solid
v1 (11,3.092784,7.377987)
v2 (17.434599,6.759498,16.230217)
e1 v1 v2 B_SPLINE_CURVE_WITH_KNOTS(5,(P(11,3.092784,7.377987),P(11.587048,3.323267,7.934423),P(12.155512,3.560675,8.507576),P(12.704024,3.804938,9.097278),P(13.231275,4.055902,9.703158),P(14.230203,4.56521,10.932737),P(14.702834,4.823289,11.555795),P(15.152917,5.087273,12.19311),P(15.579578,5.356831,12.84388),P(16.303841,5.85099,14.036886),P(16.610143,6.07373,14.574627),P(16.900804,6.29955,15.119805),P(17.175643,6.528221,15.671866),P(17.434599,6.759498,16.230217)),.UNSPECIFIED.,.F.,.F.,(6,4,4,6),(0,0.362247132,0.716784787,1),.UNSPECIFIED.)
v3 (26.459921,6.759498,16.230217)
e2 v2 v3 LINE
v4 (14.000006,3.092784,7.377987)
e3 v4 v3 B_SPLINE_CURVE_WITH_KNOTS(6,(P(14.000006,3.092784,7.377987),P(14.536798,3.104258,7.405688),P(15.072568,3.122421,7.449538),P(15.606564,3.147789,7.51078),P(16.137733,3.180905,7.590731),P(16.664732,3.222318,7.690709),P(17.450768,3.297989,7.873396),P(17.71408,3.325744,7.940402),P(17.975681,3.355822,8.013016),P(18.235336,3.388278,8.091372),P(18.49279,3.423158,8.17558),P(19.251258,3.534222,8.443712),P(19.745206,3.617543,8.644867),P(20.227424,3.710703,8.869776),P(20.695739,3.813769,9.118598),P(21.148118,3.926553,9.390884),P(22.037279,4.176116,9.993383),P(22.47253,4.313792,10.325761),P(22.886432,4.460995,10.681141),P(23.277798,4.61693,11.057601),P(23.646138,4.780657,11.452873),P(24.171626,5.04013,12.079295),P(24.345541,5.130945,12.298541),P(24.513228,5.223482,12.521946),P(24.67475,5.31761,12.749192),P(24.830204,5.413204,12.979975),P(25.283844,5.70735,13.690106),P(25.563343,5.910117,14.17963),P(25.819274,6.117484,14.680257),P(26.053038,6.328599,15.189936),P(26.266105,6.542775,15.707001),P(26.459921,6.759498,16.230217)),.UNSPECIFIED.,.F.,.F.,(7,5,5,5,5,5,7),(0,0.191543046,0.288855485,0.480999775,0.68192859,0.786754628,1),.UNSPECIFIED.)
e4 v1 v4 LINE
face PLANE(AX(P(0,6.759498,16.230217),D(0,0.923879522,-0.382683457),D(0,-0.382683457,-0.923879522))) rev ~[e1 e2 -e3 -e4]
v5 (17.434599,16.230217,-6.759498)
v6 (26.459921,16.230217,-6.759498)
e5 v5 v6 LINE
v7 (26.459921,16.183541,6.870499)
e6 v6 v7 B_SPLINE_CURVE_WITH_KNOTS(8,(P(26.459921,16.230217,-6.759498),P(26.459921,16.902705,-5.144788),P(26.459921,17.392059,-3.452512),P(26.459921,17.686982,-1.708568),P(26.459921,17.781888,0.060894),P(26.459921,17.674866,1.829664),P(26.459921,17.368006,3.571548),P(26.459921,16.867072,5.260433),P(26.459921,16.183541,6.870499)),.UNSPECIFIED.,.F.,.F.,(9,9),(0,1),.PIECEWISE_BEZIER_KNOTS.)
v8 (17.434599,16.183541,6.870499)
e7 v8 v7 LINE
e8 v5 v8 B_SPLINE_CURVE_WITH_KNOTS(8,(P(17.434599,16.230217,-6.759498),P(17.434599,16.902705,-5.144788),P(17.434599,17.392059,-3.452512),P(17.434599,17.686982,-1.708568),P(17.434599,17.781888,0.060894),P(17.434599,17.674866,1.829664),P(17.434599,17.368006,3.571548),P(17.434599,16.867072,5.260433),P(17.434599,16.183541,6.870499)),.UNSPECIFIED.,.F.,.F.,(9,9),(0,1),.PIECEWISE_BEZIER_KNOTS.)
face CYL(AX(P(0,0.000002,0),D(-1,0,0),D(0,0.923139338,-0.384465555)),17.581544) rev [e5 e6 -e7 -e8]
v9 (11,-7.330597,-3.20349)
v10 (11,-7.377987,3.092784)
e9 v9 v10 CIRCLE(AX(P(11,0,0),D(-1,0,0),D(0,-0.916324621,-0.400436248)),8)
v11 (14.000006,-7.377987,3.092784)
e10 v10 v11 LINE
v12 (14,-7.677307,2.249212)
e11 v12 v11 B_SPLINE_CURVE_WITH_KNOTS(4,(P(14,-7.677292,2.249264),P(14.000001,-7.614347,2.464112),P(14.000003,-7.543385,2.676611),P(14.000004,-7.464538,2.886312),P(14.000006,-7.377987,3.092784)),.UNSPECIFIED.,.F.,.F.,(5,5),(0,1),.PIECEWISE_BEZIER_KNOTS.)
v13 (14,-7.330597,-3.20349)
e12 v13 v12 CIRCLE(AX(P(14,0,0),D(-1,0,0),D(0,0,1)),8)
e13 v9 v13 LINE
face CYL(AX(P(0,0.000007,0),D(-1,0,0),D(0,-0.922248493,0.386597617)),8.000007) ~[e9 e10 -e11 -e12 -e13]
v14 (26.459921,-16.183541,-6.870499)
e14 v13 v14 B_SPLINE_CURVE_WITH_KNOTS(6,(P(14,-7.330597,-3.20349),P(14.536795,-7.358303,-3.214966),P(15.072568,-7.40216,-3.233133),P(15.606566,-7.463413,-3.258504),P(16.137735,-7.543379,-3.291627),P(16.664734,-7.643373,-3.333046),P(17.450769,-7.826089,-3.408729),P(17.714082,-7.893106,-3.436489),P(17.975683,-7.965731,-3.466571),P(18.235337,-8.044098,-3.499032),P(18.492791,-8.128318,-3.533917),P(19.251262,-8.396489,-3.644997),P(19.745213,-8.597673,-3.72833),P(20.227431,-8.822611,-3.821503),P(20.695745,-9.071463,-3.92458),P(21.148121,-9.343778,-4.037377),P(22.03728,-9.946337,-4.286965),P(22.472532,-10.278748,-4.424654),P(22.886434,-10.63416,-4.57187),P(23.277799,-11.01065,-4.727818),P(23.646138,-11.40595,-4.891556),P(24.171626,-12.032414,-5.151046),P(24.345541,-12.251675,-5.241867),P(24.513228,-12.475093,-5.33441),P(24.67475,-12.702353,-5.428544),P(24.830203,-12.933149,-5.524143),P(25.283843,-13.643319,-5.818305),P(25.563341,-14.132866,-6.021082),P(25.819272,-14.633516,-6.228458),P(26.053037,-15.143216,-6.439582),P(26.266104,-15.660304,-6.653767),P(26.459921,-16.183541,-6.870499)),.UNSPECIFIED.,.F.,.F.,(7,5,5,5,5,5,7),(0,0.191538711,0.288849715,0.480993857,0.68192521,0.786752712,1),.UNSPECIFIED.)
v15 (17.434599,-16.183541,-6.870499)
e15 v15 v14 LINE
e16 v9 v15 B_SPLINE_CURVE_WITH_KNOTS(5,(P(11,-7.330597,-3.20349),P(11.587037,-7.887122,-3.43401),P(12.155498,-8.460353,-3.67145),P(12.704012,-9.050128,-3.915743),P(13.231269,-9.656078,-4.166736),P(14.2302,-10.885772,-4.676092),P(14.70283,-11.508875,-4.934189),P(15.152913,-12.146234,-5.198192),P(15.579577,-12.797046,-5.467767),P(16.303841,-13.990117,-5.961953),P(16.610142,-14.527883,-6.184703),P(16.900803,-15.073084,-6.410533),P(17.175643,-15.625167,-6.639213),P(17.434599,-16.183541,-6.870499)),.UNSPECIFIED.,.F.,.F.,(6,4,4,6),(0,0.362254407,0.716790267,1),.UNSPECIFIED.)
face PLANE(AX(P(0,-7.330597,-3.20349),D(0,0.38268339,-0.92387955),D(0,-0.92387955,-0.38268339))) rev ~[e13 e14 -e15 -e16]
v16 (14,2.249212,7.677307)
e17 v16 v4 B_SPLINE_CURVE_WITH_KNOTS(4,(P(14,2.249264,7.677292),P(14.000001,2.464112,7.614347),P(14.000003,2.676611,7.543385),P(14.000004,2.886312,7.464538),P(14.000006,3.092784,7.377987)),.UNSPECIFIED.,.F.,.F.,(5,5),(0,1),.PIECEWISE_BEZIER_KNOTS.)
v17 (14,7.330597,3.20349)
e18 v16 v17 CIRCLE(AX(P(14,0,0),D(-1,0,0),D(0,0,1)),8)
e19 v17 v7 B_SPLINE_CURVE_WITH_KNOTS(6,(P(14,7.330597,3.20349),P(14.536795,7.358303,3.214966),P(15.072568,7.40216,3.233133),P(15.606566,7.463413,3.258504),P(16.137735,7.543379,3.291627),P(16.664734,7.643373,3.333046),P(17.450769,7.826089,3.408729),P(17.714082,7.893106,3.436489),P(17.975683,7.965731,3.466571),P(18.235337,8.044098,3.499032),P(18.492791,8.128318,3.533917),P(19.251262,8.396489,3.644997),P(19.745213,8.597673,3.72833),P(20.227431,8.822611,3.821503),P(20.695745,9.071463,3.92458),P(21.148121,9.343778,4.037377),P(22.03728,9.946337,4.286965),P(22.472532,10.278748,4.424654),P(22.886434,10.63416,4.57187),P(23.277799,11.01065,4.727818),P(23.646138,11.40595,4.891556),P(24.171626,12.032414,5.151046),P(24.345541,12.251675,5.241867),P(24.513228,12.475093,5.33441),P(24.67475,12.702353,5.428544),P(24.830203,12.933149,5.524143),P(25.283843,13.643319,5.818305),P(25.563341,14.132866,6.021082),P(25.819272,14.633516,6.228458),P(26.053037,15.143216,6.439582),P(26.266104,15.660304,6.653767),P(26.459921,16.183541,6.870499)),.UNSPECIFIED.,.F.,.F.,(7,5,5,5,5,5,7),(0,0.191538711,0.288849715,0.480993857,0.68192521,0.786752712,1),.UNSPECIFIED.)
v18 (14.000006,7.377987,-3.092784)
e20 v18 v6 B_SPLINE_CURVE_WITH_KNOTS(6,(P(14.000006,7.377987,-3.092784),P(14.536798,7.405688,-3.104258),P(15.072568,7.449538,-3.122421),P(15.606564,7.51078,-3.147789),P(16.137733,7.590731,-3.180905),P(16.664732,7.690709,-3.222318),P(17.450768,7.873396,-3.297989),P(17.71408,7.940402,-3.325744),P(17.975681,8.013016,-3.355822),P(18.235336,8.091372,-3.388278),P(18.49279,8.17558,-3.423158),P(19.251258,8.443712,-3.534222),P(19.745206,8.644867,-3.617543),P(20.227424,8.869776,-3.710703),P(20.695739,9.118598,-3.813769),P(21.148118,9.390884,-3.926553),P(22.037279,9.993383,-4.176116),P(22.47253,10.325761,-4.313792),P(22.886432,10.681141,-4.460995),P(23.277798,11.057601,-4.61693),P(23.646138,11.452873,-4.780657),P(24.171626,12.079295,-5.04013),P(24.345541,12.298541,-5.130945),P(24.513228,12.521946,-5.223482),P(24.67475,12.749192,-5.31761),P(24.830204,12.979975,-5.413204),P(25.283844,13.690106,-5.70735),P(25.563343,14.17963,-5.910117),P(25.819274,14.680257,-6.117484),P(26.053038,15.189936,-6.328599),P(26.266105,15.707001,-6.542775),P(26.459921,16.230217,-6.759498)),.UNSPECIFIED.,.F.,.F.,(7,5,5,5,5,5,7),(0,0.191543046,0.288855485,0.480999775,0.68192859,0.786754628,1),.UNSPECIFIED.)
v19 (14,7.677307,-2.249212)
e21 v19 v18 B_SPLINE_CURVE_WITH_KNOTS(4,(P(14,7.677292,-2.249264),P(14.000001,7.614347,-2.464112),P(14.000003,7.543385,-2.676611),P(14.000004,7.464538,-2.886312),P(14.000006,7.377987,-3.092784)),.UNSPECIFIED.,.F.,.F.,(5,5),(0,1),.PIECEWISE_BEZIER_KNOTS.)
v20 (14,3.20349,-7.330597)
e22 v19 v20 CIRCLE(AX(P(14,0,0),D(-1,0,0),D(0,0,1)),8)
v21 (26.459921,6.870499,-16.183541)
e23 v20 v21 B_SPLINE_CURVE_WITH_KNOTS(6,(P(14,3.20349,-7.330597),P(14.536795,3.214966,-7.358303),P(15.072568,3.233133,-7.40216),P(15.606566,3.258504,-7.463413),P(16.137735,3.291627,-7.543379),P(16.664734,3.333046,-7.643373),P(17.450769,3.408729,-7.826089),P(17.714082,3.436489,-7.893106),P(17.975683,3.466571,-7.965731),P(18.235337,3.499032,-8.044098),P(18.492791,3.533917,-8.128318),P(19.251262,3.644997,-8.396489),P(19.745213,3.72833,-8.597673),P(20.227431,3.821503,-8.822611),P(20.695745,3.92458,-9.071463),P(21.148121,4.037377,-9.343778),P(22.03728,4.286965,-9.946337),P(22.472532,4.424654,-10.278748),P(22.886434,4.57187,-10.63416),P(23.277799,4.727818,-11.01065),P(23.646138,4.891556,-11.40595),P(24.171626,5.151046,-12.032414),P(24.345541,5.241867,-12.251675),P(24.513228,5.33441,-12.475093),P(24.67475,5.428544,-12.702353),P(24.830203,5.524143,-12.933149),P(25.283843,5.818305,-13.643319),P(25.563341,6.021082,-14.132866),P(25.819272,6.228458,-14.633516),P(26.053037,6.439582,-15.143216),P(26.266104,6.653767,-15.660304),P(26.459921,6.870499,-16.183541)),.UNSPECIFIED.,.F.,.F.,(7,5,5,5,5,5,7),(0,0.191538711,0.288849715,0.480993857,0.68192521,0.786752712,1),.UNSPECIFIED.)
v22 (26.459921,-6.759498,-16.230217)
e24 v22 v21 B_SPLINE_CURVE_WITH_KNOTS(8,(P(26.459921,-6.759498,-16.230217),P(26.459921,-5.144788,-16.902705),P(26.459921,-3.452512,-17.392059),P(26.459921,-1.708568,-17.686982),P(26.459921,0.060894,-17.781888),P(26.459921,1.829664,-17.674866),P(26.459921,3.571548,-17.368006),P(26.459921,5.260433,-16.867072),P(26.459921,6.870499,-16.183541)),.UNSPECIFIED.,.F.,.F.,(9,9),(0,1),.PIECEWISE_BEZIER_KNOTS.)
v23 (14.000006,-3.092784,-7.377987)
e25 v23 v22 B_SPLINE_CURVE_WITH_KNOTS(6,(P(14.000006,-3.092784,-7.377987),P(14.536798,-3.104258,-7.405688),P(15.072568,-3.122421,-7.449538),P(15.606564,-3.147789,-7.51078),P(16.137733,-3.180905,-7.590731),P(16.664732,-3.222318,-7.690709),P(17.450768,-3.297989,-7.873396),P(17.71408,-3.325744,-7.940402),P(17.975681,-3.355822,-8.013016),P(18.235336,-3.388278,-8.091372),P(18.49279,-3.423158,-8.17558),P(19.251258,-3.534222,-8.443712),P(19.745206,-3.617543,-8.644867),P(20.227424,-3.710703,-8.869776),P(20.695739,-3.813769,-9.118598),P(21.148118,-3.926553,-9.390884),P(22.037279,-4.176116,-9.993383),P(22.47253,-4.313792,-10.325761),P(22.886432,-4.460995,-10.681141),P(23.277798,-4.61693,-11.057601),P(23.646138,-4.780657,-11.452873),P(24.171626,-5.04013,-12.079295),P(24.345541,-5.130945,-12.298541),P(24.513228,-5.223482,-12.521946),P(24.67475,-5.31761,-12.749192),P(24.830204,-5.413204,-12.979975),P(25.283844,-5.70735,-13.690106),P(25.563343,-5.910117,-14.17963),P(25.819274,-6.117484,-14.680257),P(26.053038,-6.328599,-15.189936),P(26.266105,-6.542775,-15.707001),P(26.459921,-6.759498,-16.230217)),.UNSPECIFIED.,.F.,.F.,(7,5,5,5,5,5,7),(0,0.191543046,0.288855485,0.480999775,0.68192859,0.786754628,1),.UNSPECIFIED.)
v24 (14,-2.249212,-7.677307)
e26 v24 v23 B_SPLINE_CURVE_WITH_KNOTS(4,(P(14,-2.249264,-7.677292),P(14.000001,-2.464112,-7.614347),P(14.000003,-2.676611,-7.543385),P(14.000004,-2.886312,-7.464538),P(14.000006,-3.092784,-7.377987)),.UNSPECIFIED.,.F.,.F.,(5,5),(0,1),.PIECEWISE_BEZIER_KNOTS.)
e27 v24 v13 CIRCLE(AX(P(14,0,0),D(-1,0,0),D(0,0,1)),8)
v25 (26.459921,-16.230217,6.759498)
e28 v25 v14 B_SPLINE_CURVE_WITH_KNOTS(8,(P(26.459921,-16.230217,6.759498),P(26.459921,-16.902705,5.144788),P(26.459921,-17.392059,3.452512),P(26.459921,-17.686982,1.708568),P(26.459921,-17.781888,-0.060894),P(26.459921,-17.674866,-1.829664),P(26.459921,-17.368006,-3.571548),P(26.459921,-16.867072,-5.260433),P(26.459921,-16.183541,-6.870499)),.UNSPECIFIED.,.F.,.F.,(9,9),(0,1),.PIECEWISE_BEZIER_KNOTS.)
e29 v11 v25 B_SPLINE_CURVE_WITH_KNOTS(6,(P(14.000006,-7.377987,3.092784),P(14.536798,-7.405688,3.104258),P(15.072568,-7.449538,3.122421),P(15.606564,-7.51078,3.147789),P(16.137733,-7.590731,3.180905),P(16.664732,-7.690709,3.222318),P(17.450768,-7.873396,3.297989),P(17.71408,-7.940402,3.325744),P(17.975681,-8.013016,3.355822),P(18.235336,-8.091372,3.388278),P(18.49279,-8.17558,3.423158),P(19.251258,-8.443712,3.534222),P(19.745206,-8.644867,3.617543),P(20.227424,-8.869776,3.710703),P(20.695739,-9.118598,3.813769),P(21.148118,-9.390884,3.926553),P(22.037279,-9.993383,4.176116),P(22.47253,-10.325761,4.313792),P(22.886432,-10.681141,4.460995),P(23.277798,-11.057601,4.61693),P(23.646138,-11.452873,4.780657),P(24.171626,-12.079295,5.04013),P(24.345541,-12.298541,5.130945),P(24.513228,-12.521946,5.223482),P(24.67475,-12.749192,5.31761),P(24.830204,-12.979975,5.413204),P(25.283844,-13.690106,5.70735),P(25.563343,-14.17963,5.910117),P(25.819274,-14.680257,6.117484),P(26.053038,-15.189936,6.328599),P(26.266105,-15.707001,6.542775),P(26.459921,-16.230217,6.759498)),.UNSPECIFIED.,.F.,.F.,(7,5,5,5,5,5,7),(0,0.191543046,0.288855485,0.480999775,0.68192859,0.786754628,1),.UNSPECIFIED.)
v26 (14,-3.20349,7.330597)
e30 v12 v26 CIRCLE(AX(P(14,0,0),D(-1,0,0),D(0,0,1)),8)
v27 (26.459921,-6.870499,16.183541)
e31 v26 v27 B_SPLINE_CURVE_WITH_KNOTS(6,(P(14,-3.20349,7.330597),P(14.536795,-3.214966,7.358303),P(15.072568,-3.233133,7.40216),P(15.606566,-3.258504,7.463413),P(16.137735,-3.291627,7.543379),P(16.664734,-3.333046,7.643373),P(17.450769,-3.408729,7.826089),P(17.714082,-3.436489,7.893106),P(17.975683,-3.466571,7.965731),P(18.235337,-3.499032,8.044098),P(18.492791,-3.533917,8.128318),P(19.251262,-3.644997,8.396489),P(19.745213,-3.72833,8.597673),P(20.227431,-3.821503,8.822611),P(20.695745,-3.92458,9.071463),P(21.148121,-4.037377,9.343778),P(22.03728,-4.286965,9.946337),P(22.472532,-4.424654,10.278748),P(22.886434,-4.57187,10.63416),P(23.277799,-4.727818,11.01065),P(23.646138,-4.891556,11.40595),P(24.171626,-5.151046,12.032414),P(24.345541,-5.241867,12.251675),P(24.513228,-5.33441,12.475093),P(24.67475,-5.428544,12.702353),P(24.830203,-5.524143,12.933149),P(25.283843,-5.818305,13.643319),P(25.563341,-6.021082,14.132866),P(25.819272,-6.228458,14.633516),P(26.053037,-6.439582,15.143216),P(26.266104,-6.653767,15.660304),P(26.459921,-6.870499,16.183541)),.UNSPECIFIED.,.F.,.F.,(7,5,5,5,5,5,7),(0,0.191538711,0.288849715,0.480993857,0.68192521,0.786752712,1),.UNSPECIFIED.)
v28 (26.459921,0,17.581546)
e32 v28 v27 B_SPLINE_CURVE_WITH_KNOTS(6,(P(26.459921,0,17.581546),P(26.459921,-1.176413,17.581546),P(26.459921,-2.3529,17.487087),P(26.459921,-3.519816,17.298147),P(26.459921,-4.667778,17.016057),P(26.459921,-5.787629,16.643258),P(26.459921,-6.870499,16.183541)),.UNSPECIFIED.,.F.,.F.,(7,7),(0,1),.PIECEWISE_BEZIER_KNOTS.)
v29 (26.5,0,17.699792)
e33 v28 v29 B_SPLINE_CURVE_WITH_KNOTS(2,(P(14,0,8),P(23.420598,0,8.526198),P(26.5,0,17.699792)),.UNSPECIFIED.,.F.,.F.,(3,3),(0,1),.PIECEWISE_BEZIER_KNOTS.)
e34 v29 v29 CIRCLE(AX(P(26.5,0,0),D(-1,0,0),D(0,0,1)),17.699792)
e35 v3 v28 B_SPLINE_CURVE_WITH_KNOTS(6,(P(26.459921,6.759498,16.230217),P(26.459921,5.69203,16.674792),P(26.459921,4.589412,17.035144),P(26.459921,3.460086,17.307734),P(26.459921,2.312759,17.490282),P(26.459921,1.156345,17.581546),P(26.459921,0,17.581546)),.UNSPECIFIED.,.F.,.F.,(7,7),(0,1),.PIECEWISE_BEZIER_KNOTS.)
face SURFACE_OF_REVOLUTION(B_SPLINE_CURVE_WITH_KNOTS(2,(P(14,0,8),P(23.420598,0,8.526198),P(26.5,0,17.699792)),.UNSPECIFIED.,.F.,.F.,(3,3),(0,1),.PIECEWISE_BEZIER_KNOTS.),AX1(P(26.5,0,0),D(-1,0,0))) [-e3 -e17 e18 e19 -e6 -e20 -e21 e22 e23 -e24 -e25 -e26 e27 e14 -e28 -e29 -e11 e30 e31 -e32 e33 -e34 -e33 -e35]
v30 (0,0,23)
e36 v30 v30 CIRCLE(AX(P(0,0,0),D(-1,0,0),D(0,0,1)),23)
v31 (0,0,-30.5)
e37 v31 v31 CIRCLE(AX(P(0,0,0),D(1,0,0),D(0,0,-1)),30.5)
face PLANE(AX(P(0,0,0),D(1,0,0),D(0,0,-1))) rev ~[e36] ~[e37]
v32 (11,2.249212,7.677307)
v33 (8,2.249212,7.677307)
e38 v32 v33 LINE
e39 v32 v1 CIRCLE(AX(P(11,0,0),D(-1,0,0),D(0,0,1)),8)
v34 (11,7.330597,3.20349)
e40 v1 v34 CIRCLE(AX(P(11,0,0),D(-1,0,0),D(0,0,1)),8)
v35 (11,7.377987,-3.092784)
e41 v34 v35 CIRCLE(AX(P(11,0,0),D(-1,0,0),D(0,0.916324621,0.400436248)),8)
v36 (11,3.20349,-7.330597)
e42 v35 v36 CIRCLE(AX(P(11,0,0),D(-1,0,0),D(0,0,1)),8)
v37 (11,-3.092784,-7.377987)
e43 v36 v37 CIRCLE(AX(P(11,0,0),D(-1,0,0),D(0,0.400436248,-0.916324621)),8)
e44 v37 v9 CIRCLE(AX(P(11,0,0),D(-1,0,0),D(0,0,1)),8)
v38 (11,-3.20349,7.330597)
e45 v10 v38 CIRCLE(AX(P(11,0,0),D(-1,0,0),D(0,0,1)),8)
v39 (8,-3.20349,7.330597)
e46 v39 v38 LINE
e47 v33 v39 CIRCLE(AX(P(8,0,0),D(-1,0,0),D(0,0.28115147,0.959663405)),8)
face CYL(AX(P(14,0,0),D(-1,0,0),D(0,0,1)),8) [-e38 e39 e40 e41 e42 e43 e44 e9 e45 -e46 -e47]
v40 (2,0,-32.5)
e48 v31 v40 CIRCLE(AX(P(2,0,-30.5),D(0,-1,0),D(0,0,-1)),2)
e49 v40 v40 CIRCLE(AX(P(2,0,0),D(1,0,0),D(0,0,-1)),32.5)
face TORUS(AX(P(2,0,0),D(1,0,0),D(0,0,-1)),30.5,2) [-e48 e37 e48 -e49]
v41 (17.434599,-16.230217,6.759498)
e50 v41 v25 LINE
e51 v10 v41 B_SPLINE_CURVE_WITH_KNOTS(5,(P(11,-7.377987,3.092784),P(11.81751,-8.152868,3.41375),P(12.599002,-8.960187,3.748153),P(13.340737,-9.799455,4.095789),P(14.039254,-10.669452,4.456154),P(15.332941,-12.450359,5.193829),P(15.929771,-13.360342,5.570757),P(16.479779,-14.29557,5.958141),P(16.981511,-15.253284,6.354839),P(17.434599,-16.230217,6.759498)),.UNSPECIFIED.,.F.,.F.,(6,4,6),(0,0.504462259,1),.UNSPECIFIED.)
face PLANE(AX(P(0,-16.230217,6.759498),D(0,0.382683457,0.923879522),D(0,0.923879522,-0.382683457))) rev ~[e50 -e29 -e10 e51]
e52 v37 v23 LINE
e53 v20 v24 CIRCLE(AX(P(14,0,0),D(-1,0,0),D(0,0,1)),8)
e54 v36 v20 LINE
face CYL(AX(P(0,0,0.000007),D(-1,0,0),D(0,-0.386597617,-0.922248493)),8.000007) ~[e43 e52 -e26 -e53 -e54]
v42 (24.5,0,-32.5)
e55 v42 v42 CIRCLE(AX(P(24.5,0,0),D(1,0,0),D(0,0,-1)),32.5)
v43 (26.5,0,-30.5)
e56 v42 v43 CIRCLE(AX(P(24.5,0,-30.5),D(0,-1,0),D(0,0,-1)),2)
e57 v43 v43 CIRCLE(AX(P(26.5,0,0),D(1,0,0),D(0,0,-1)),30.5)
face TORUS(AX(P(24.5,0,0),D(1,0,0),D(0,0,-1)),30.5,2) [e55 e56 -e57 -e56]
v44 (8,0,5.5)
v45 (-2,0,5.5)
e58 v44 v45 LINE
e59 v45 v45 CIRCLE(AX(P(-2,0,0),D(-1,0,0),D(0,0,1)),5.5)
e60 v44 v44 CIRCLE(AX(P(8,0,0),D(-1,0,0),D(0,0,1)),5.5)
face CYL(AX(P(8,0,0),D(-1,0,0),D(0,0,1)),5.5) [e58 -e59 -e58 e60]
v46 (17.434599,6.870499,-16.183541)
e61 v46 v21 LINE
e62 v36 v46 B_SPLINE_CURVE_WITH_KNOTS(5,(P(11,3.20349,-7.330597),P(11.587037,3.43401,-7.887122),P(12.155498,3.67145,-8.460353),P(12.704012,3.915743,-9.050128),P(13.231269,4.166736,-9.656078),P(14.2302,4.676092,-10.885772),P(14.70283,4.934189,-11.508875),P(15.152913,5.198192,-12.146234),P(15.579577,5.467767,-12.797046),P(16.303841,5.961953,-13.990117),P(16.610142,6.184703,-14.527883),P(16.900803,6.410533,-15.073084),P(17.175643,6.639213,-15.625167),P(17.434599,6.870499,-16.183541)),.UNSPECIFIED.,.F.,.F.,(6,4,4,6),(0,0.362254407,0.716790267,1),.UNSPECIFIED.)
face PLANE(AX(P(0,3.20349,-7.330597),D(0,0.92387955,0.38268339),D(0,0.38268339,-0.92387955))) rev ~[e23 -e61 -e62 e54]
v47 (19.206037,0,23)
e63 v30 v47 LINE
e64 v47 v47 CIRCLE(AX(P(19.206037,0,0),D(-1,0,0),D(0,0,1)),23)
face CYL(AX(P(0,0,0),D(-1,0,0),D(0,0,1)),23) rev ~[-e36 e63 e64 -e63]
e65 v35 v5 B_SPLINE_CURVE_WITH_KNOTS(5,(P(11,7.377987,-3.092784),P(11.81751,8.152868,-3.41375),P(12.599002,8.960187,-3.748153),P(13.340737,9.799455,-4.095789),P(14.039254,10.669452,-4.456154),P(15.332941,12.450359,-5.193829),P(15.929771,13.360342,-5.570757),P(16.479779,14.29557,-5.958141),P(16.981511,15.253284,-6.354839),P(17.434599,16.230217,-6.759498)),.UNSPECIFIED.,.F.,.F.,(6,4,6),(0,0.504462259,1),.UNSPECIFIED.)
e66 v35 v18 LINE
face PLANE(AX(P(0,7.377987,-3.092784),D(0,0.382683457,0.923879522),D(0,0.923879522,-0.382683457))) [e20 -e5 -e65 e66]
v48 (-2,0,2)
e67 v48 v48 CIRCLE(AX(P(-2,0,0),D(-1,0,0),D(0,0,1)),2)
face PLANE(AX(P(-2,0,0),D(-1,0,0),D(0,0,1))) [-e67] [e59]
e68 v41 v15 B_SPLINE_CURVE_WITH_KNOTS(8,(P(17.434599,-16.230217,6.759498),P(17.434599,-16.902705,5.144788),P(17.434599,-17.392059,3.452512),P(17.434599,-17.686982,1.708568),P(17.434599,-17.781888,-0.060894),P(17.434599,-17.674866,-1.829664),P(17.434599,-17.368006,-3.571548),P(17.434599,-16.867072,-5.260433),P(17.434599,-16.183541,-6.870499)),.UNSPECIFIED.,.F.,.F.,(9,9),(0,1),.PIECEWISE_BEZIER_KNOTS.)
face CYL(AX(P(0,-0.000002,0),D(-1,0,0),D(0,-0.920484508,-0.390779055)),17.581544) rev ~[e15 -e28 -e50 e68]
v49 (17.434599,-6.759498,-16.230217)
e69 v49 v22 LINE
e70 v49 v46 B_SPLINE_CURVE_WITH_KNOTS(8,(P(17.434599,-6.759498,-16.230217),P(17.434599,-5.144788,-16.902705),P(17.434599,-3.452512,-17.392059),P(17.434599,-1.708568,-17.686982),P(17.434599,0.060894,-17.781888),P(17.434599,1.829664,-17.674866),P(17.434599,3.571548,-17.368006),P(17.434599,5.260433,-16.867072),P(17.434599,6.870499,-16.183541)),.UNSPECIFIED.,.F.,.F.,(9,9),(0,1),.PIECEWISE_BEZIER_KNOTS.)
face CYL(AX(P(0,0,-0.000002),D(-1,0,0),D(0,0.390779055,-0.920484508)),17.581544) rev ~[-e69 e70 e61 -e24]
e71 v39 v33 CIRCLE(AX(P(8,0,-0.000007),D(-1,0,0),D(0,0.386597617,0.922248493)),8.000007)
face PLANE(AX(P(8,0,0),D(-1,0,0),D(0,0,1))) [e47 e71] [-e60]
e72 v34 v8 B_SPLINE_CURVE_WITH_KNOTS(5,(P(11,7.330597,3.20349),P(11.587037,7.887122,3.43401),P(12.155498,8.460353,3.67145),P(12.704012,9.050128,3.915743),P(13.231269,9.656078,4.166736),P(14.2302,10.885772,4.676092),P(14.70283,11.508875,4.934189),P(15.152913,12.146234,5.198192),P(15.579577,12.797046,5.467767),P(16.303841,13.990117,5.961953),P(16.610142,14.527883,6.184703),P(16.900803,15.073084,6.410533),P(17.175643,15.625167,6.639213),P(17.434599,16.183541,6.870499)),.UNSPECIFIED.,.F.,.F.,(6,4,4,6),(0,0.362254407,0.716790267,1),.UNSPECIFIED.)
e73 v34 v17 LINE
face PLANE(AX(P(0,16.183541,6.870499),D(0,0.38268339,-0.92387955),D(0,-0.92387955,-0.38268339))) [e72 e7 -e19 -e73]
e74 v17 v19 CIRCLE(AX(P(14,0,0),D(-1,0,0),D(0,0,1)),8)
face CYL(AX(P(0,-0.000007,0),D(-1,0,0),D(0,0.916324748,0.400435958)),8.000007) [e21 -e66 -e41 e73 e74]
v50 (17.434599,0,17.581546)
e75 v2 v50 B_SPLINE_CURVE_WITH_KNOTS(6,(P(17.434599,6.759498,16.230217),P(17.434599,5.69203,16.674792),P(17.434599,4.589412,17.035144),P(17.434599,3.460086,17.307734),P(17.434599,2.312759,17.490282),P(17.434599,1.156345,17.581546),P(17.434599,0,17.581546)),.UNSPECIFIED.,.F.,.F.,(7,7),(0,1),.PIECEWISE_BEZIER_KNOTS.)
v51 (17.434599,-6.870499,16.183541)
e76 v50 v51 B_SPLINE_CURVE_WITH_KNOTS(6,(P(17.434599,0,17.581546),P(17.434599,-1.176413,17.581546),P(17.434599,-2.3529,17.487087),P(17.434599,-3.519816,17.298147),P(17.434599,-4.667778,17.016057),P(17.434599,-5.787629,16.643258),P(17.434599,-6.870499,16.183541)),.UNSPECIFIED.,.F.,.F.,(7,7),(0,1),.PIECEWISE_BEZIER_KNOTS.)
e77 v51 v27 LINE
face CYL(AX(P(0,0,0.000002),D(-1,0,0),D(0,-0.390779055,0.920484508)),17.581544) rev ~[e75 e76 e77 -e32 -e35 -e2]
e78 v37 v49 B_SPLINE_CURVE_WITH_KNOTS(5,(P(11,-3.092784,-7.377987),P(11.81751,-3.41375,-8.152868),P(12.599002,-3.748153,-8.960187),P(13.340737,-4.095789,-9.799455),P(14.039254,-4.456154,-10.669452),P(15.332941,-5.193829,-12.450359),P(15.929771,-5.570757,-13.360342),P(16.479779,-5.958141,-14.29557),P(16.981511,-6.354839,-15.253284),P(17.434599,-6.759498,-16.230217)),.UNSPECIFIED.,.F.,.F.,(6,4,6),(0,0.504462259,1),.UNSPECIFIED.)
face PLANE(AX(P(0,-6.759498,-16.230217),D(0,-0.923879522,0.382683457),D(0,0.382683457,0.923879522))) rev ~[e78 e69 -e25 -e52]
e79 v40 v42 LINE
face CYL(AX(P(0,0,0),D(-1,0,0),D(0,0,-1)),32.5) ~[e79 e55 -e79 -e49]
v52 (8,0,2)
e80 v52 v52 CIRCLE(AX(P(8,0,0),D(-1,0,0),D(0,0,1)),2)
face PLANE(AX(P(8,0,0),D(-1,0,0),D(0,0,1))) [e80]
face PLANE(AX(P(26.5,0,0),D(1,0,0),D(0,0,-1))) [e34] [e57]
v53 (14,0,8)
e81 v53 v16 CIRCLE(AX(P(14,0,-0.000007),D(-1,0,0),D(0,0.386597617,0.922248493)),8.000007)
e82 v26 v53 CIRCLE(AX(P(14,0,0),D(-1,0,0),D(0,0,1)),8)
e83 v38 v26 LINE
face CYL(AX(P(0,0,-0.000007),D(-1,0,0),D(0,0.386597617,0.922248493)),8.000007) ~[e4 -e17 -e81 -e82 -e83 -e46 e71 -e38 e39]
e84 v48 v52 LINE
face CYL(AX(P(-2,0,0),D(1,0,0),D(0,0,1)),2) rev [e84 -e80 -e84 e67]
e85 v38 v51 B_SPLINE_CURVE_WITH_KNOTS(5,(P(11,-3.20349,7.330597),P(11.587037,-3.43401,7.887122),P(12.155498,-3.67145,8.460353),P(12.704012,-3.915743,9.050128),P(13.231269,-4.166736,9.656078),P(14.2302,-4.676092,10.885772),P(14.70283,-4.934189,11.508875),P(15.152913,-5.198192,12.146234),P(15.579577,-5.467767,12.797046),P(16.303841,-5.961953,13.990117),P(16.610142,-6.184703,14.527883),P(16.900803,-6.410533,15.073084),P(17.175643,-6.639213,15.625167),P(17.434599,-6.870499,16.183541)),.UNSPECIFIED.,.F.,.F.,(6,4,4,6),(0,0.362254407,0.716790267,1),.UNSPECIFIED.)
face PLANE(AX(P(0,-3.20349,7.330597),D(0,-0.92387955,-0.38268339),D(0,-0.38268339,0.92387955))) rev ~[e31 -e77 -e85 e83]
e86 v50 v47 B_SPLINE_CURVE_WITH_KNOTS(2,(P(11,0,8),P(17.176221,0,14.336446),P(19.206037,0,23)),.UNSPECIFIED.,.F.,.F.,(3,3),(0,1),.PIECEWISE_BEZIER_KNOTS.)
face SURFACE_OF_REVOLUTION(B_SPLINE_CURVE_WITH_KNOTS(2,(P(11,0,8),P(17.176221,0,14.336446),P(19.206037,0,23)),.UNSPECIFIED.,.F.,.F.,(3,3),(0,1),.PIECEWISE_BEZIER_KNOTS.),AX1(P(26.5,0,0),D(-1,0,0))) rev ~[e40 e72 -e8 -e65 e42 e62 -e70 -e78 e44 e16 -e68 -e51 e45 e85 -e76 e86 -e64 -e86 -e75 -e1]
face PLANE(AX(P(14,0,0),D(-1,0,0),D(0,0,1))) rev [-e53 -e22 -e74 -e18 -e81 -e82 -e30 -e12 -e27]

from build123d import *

# Parameters (mm, degrees)
SKETCH_1_R          = 32.5
EXTRUDE_1_DEPTH     = 26.5
SKETCH_2_R          = 23
CUT_EXTRUDE_1_DEPTH = 26.5
CUT_EXTRUDE_START   = -26.5
CUT_EXTRUDE_2_DEPTH = 26.5
FILLET_1_R          = 2


with BuildPart() as part:
    # 草图1 → 凸台-拉伸1 (new body)
    with BuildSketch(Plane(origin=(0, 0, 0), x_dir=(0, 0, -1), z_dir=(1, 0, 0))):
        Circle(SKETCH_1_R)
    extrude(amount=EXTRUDE_1_DEPTH)

    # 草图2 → 切除-拉伸1 (cut)
    with BuildSketch(Plane.ZY):
        Circle(SKETCH_2_R)
    extrude(amount=-CUT_EXTRUDE_1_DEPTH, mode=Mode.SUBTRACT)

    # 草图3 → 旋转2 (revolve)
    with BuildSketch(Plane.XY, mode=Mode.PRIVATE) as revolve_2_sk:
        Polygon((8, 2), (8, 0), (14, 0), (14, 8), (11, 8), (8, 8), (8, 5.5), (-2, 5.5), (-2, 2), align=None)
        with BuildLine():
            Line((11, 8), (14, 8))
            add(Edge.make_bspline(
                [(14, 8), (23.420598, 8.526198), (26.5, 17.699792)],
                knots=[0, 0, 0, 1, 1, 1], degree=2))
            Line((26.5, 17.699792), (26.5, 23))
            Line((26.5, 23), (19.206037, 23))
            add(Edge.make_bspline(
                [(11, 8), (17.176221, 14.336446), (19.206037, 23)],
                knots=[0, 0, 0, 1, 1, 1], degree=2))
        make_face()
    revolve(revolve_2_sk.sketch.rotate(Axis((26.5, 0, 0), (-1, 0, 0)), 270), axis=Axis((26.5, 0, 0), (-1, 0, 0)))

    # 草图4 → 切除-拉伸2 (cut)
    with BuildSketch(Plane(origin=(26.5, 0, 0), x_dir=(0, 0, -1), z_dir=(1, 0, 0)).offset(CUT_EXTRUDE_START)):
        with BuildLine():
            Line((16.230217, -6.759498), (7.377987, -3.092784))
            ThreePointArc((7.377987, -3.092784), (7.999773, 0.060211), (7.330597, 3.20349))
            Line((7.330597, 3.20349), (16.183541, 6.870499))
            ThreePointArc((16.183541, 6.870499), (17.581443, 0.060208), (16.230217, -6.759498))
        make_face()
        with BuildLine():
            Line((-6.759498, -16.230217), (-3.092784, -7.377987))
            ThreePointArc((-3.092784, -7.377987), (0.060211, -7.999773), (3.20349, -7.330597))
            Line((3.20349, -7.330597), (6.870499, -16.183541))
            ThreePointArc((6.870499, -16.183541), (0.060208, -17.581443), (-6.759498, -16.230217))
        make_face()
        with BuildLine():
            Line((-6.870499, 16.183541), (-3.20349, 7.330597))
            ThreePointArc((-3.20349, 7.330597), (-0.060211, 7.999773), (3.092784, 7.377987))
            Line((3.092784, 7.377987), (6.759498, 16.230217))
            ThreePointArc((6.759498, 16.230217), (-0.060208, 17.581443), (-6.870499, 16.183541))
        make_face()
        with BuildLine():
            Line((-16.230217, 6.759498), (-7.377987, 3.092784))
            ThreePointArc((-7.377987, 3.092784), (-7.999773, -0.060211), (-7.330597, -3.20349))
            Line((-7.330597, -3.20349), (-16.183541, -6.870499))
            ThreePointArc((-16.183541, -6.870499), (-17.581443, -0.060208), (-16.230217, 6.759498))
        make_face()
    extrude(amount=CUT_EXTRUDE_2_DEPTH, mode=Mode.SUBTRACT)

    # 圆角1
    fillet_1_edges = [part.edges().sort_by_distance(p)[0] for p in [
        (0, 0, 32.5),
        (26.5, 0, 32.5),
    ]]
    fillet(fillet_1_edges, radius=FILLET_1_R)


solid = part.part
